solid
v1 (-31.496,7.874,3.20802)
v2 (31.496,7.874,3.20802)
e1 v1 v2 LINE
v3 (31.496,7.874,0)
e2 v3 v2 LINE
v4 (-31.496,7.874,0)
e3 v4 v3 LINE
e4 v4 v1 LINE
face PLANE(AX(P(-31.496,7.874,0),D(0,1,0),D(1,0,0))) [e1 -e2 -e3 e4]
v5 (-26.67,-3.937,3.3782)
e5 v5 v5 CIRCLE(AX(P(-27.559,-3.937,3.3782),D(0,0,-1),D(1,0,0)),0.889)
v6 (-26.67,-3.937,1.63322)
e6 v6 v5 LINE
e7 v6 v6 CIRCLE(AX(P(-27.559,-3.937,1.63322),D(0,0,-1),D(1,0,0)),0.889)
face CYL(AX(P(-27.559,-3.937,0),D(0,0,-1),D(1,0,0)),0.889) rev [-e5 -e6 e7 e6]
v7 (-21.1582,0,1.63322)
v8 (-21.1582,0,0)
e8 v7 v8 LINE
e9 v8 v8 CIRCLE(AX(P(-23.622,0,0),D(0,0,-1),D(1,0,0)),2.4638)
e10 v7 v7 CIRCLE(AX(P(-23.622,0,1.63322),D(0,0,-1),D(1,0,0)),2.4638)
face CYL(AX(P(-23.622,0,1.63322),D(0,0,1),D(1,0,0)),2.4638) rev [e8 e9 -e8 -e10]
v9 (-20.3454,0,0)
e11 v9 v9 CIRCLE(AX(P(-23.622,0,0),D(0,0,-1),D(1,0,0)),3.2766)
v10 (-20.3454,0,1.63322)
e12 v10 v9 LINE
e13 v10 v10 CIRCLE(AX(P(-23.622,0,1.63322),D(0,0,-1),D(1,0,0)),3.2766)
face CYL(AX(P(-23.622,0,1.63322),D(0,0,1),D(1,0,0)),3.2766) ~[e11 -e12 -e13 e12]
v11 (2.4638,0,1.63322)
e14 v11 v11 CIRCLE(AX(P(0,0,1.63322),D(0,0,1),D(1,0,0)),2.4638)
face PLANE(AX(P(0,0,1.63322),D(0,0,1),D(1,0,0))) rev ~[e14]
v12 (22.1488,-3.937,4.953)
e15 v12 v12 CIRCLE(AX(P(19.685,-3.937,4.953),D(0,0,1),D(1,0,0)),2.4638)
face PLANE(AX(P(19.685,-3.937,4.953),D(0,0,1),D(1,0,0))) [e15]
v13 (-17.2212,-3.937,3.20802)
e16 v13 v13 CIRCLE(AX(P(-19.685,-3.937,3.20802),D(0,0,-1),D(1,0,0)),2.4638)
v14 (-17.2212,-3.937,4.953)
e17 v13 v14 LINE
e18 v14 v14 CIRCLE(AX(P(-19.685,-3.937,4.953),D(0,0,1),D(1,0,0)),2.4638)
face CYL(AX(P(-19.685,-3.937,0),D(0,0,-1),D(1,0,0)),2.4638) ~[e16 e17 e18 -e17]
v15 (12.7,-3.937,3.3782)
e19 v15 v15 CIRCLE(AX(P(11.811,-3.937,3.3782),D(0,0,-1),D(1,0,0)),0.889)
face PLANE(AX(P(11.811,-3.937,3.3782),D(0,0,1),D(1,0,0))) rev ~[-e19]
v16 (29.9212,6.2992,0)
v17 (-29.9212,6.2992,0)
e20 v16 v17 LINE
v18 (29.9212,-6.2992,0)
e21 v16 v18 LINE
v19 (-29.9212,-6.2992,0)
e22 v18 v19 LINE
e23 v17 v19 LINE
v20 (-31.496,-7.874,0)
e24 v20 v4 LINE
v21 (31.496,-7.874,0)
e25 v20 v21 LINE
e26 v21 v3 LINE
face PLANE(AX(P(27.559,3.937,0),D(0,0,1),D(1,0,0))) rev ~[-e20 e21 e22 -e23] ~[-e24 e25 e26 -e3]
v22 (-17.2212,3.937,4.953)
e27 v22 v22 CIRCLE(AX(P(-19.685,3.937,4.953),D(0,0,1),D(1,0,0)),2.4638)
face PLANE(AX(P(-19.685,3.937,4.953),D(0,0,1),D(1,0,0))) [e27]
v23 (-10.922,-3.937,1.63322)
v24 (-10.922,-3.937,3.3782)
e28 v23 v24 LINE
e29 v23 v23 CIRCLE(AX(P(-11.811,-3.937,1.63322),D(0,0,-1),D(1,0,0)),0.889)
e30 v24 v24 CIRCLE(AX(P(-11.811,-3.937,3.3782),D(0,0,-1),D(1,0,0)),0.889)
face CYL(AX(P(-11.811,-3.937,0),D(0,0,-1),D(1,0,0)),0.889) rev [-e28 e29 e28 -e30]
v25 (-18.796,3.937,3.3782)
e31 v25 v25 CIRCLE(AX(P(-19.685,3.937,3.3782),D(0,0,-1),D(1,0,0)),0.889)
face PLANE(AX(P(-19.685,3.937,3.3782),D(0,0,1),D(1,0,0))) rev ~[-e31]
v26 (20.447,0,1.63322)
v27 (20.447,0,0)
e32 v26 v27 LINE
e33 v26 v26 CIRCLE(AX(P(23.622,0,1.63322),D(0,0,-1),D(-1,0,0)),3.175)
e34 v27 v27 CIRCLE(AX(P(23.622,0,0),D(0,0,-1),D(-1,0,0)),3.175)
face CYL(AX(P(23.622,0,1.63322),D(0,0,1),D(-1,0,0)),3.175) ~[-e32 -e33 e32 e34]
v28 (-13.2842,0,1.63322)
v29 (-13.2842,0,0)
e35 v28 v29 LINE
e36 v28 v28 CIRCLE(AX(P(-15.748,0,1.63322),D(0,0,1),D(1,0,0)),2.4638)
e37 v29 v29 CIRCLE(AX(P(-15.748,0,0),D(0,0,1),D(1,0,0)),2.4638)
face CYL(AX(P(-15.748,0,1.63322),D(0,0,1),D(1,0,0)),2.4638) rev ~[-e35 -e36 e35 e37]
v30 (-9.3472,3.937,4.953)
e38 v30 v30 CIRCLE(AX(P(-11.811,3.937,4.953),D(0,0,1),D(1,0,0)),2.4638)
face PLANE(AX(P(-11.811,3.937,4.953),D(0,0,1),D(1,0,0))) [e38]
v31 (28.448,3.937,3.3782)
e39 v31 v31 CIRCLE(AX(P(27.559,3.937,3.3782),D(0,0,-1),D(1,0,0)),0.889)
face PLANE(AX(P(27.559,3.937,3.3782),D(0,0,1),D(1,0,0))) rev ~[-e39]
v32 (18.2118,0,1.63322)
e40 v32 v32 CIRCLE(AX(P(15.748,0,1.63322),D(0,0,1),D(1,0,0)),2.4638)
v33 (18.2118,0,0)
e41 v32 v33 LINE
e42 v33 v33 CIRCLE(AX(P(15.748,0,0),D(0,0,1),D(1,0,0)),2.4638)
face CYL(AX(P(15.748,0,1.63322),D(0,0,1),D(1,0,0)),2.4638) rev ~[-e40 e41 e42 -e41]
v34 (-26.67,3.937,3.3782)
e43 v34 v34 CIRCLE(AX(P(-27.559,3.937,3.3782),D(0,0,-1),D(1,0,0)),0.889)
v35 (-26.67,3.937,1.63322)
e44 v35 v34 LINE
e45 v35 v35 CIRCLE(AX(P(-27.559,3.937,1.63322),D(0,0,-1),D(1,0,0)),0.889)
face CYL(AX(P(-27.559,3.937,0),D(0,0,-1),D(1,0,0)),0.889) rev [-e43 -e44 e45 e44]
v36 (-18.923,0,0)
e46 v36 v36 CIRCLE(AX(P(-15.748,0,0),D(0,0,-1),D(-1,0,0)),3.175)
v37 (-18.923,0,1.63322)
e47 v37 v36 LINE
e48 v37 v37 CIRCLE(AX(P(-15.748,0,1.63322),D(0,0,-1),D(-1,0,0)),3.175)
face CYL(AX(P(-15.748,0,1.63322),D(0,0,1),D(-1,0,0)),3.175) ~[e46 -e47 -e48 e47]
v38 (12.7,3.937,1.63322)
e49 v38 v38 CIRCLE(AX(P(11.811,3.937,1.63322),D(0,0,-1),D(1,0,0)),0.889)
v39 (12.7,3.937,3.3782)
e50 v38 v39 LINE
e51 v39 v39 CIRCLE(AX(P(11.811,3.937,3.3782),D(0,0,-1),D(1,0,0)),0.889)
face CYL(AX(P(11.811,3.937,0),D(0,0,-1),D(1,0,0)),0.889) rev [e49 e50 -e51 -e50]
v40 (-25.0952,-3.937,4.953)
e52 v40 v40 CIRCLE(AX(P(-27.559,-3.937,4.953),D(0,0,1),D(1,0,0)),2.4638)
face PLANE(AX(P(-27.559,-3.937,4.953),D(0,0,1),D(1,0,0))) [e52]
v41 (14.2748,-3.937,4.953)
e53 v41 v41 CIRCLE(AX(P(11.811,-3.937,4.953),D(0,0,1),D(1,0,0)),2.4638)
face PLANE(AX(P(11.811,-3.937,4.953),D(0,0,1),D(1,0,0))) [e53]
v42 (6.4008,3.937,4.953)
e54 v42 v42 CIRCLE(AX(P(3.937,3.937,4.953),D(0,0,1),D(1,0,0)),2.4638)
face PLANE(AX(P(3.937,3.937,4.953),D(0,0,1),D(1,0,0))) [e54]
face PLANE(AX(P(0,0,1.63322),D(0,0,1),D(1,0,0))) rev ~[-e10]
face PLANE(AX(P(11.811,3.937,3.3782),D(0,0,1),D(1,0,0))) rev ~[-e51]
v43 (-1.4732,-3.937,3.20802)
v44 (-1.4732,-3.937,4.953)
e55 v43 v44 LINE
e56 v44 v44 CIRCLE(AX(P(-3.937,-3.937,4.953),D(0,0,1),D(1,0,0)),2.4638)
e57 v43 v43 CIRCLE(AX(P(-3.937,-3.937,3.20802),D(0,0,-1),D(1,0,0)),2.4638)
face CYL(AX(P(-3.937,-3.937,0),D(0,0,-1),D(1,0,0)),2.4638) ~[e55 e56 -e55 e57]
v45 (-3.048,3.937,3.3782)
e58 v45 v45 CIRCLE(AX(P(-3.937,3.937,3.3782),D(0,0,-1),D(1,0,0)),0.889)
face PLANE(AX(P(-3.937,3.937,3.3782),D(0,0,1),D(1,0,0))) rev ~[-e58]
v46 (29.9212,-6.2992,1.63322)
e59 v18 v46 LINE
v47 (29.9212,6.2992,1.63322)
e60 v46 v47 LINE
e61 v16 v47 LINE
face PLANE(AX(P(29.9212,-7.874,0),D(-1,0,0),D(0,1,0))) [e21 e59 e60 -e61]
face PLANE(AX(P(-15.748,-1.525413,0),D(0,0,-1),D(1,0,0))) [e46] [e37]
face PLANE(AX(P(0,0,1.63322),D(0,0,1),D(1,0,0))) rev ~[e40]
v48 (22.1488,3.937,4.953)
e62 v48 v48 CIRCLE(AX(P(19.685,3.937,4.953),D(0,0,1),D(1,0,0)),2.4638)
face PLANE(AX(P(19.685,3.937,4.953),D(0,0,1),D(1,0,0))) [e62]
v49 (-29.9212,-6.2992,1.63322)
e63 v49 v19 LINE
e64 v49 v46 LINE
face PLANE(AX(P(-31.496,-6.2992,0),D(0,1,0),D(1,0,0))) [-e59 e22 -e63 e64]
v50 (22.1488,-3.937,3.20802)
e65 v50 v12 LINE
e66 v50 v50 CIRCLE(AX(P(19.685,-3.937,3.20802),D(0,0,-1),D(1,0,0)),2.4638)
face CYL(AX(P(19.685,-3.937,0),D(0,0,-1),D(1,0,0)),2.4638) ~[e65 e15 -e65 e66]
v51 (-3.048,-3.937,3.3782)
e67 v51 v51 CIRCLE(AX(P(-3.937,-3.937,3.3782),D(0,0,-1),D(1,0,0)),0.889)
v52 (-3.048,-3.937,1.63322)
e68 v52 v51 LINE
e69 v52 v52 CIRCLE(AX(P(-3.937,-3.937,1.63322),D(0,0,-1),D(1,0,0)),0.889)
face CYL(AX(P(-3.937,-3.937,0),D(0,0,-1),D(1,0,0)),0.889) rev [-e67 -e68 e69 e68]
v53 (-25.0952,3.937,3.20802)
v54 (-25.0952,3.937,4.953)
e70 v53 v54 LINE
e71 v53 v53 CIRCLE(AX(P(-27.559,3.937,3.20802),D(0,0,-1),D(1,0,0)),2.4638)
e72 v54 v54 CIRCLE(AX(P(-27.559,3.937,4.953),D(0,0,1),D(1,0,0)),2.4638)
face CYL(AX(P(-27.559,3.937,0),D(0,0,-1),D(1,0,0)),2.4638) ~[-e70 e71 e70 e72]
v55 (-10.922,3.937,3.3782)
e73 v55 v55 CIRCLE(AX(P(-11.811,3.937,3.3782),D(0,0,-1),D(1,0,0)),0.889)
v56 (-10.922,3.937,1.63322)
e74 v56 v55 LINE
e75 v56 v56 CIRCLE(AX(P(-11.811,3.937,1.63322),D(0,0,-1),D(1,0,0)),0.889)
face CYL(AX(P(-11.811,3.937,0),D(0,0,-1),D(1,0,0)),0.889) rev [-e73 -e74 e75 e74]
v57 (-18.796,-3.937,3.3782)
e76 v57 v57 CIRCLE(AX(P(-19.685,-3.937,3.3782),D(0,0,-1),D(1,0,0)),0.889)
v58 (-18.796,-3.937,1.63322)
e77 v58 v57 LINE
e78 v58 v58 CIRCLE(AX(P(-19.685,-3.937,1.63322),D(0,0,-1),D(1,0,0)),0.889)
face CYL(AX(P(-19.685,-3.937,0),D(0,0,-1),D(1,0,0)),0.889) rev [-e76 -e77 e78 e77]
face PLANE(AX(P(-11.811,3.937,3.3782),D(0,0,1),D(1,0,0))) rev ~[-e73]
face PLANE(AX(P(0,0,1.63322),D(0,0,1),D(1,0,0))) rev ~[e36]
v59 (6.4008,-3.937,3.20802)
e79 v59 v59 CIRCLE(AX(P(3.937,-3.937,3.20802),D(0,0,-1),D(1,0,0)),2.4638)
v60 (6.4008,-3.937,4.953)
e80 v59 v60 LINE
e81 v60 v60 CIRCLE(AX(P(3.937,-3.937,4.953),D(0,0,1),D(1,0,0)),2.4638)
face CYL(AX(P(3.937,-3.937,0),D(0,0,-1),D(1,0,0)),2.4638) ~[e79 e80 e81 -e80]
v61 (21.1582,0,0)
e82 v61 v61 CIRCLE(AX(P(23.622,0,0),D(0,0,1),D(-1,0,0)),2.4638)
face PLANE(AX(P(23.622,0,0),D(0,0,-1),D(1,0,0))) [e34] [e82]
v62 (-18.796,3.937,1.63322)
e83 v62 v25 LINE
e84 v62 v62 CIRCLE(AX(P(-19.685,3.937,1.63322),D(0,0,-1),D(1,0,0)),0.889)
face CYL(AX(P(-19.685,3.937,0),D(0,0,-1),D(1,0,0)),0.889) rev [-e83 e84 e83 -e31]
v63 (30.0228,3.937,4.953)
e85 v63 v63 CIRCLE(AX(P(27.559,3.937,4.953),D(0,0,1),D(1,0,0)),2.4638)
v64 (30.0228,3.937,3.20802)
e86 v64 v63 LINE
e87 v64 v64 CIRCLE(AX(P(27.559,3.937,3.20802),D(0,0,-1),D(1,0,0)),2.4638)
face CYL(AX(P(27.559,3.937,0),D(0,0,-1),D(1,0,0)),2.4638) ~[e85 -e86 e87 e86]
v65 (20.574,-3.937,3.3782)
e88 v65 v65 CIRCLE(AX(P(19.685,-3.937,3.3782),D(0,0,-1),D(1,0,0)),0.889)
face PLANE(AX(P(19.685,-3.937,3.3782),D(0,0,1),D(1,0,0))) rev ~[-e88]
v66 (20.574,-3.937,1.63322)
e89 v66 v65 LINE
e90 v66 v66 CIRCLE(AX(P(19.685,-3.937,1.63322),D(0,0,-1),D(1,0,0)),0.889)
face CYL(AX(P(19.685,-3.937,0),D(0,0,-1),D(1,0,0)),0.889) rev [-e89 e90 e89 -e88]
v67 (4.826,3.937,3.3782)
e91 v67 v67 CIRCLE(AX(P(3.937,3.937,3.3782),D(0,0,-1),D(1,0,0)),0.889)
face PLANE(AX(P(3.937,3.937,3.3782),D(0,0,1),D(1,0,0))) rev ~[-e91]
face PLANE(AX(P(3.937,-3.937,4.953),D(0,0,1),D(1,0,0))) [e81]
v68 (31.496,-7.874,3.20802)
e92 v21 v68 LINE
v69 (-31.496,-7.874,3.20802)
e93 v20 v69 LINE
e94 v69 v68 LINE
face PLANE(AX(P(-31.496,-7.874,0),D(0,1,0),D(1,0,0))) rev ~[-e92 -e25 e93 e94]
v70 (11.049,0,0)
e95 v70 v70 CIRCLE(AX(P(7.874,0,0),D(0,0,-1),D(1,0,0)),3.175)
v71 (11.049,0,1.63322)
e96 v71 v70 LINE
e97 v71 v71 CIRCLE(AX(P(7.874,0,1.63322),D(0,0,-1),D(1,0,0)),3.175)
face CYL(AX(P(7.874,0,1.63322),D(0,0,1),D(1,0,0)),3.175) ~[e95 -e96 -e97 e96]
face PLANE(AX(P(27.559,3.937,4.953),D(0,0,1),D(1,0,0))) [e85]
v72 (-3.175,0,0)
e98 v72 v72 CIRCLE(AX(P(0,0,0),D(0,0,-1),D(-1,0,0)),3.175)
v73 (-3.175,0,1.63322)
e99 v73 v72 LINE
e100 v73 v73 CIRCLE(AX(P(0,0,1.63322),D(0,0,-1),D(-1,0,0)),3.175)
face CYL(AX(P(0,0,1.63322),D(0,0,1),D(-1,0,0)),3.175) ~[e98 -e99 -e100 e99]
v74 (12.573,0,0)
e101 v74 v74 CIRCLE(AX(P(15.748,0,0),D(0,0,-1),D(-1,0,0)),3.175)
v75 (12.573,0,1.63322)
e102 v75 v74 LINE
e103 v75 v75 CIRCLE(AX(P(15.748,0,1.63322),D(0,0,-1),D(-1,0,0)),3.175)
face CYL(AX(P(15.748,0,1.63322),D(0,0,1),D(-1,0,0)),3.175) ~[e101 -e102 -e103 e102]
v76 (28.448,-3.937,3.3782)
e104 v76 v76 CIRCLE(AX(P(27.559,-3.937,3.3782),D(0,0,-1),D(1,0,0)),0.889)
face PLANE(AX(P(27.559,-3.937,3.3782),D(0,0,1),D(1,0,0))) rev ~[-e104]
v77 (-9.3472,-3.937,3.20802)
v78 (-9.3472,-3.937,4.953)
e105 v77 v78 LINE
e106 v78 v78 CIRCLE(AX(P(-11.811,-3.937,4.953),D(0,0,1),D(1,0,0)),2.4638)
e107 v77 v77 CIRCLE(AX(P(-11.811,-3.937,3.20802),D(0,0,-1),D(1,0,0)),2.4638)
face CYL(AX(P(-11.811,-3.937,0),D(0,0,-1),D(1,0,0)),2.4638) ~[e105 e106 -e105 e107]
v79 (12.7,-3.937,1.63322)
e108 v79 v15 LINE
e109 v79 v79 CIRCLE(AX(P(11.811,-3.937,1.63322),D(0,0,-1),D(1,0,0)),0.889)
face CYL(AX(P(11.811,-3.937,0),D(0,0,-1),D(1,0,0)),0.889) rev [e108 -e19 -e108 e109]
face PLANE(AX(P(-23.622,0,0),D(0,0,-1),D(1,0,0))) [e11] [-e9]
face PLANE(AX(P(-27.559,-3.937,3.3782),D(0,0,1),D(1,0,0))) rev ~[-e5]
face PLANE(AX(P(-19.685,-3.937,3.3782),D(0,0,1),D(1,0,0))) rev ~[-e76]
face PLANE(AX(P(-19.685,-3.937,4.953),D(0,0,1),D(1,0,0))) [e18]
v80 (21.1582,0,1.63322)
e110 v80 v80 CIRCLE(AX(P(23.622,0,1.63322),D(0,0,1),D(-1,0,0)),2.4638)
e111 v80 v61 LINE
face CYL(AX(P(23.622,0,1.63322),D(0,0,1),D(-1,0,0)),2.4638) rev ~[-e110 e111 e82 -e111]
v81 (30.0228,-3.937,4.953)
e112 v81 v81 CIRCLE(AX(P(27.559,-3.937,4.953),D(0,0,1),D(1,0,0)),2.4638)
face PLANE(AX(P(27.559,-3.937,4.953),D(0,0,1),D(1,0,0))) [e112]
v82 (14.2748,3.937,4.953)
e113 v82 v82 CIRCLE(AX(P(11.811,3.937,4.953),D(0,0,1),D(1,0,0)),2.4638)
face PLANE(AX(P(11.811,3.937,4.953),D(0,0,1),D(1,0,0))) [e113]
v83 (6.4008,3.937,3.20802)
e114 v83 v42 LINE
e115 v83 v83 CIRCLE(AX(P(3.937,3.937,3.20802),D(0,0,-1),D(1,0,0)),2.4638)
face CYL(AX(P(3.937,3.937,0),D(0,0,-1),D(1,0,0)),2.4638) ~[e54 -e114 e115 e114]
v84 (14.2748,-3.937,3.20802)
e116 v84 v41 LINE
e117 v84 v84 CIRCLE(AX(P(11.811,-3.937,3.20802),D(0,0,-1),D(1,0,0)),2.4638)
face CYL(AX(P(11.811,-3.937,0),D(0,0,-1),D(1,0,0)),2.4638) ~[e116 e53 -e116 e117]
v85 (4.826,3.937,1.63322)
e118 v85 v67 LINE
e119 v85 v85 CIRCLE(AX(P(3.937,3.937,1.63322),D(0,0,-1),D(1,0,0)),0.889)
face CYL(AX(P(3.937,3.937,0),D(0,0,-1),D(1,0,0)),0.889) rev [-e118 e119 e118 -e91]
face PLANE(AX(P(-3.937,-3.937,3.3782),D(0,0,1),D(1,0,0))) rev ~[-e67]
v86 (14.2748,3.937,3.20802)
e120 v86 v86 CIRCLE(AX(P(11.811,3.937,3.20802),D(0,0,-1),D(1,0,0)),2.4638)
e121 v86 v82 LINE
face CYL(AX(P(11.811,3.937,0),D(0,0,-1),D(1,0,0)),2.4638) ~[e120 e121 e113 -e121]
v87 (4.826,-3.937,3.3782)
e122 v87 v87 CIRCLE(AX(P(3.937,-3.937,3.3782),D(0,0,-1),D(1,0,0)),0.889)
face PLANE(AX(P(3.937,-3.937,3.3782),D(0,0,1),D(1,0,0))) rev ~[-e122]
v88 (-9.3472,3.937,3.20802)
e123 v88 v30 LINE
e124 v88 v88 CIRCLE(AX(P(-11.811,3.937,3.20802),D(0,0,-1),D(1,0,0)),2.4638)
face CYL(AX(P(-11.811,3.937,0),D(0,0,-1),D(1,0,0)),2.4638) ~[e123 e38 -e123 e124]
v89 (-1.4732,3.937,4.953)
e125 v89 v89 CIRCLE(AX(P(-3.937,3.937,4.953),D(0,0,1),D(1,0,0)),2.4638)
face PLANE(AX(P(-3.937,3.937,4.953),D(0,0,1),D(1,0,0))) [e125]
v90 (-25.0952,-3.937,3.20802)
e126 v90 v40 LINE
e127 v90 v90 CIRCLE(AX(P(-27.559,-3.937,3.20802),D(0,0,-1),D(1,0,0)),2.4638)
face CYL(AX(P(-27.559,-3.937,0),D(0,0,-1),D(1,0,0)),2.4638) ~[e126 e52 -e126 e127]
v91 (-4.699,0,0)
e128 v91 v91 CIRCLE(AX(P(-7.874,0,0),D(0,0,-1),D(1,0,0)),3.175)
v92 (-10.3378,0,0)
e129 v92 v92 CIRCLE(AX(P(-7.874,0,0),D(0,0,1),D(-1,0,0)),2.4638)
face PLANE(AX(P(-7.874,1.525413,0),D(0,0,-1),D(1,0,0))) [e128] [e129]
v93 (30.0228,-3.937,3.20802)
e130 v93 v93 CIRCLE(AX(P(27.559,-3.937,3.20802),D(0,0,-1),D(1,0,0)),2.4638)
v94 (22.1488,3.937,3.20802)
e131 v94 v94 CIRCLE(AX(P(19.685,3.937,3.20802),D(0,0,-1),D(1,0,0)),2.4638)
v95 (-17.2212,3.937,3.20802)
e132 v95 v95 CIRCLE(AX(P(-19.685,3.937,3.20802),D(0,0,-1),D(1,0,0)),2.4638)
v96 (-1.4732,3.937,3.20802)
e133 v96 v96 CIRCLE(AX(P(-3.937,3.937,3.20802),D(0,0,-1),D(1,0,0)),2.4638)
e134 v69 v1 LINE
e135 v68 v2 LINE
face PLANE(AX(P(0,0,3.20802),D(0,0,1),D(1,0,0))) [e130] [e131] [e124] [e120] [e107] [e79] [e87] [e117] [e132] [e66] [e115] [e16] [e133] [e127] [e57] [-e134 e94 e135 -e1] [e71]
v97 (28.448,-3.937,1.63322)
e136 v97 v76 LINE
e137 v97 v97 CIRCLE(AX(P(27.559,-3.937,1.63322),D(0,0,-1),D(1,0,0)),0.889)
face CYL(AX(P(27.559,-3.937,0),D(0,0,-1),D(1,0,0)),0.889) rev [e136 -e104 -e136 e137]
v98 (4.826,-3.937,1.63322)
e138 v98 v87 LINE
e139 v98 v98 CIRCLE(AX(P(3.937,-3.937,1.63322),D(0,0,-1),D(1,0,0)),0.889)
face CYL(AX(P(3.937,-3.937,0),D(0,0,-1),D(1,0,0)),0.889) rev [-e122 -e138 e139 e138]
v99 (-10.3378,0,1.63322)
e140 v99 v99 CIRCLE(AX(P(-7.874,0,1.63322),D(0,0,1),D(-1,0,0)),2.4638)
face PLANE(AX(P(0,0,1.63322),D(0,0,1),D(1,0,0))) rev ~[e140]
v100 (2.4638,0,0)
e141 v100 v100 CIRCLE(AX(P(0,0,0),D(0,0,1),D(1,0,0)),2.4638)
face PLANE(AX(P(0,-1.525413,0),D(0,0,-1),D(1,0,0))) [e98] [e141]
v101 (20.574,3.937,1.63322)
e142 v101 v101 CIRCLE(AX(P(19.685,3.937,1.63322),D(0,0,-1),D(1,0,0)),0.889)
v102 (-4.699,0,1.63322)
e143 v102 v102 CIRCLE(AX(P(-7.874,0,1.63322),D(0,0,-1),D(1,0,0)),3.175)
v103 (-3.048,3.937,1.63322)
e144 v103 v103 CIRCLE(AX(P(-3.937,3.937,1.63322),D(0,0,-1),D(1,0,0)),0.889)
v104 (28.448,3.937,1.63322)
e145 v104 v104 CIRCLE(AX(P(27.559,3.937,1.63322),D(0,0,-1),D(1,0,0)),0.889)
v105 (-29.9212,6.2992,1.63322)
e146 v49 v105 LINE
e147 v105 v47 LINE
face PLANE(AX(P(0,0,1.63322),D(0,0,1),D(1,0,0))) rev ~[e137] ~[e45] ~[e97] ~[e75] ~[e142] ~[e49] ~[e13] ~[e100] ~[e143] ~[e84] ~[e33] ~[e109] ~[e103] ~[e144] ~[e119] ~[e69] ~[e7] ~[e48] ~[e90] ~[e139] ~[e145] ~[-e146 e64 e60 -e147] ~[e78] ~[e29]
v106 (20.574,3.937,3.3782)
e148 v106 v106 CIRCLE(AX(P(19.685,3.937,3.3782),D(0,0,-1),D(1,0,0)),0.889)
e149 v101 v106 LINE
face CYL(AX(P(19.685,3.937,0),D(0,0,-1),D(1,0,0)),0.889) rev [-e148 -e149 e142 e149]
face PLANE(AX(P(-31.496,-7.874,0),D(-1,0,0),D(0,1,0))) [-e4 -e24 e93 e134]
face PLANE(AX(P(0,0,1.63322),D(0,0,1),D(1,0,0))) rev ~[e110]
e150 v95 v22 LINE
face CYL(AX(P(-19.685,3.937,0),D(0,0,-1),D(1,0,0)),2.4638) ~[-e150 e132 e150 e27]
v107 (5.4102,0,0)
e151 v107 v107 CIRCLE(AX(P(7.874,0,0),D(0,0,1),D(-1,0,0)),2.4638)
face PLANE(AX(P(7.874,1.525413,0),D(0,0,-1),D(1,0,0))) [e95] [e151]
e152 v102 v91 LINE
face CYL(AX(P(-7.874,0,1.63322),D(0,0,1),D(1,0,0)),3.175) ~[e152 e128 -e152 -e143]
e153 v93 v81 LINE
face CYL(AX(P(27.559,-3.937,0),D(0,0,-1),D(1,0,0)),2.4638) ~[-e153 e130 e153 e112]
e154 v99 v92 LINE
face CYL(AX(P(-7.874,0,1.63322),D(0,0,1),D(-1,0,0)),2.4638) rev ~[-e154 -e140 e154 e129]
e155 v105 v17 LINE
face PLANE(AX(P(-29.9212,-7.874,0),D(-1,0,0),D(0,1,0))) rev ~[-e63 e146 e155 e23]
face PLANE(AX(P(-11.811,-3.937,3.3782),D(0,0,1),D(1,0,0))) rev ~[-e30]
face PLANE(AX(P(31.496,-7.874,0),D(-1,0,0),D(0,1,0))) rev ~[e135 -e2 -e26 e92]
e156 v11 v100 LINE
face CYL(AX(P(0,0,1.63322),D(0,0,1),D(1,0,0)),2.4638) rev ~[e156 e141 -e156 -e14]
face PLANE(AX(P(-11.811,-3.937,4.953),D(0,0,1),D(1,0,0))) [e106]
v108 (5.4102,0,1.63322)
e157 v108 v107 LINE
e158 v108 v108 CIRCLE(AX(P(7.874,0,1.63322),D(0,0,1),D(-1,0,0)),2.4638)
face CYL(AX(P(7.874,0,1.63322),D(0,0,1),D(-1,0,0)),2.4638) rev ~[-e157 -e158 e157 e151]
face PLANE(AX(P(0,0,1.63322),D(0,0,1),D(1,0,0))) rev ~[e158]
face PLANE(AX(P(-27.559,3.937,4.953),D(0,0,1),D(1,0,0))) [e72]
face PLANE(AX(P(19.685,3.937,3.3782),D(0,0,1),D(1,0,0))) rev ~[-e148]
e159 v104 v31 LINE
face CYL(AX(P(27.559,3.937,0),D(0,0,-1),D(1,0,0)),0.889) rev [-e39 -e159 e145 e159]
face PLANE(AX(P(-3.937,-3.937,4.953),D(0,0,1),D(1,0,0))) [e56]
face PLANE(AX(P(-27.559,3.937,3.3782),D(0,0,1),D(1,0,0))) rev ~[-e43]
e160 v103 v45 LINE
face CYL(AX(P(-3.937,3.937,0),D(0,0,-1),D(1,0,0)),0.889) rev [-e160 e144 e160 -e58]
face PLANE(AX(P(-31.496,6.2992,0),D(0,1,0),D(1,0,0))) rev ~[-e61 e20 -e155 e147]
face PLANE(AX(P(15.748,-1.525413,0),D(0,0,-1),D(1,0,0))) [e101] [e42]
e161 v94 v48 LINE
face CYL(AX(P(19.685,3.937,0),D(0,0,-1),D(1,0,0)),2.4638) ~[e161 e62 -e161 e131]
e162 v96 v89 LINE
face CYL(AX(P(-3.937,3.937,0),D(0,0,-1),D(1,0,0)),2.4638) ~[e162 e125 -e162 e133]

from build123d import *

# Parameters (mm, degrees)
F0_W     = 62.992
F0_H     = 15.748
F1_DEPTH = 3.20802
F2_R     = 2.4638
F3_DEPTH = 4.953
F4_T     = -1.5748
F5_R     = 3.2766
F5_R_2   = 2.4638
F6_DEPTH = 1.63322


with BuildPart() as f1:
    # F0 (on Top) → F1 (new body)
    with BuildSketch(Plane.XY):
        Rectangle(F0_W, F0_H)
    extrude(amount=F1_DEPTH)

    # F2 (on Top) → F3 (join)
    with BuildSketch(Plane.XY):
        with Locations((27.559, 3.937)):
            Circle(F2_R)
        with Locations((11.811, 3.937)):
            Circle(F2_R)
        with Locations((19.685, 3.937)):
            Circle(F2_R)
        with Locations((3.937, 3.937)):
            Circle(F2_R)
        with Locations((-3.937, 3.937)):
            Circle(F2_R)
        with Locations((-11.811, 3.937)):
            Circle(F2_R)
        with Locations((-19.685, 3.937)):
            Circle(F2_R)
        with Locations((-27.559, 3.937)):
            Circle(F2_R)
        with Locations((-27.559, -3.937)):
            Circle(F2_R)
        with Locations((-19.685, -3.937)):
            Circle(F2_R)
        with Locations((-11.811, -3.937)):
            Circle(F2_R)
        with Locations((-3.937, -3.937)):
            Circle(F2_R)
        with Locations((3.937, -3.937)):
            Circle(F2_R)
        with Locations((11.811, -3.937)):
            Circle(F2_R)
        with Locations((19.685, -3.937)):
            Circle(F2_R)
        with Locations((27.559, -3.937)):
            Circle(F2_R)
    extrude(amount=F3_DEPTH)

    # F4
    f4_openings = [f1.faces().sort_by_distance(p)[0] for p in [
        (0, 0, 0),
    ]]
    offset(amount=F4_T, openings=f4_openings, kind=Kind.INTERSECTION)

    # F5 (on face) → F6 (join)
    with BuildSketch(Plane(origin=(0, 0, 1.63322), x_dir=(1, 0, 0), z_dir=(0, 0, -1))):
        with Locations((-23.622, 0)):
            Circle(F5_R)
        with Locations((-23.622, 0)):
            Circle(F5_R_2, mode=Mode.SUBTRACT)
        with BuildLine():
            Line((-13.2842, 0), (-12.573, 0))
            ThreePointArc((-12.573, 0), (-15.748, 3.175), (-18.923, 0))
            Line((-18.923, 0), (-18.2118, 0))
            ThreePointArc((-18.2118, 0), (-15.748, 2.4638), (-13.2842, 0))
        make_face()
        with BuildLine():
            ThreePointArc((-18.923, 0), (-15.748, -3.175), (-12.573, 0))
            Line((-12.573, 0), (-13.2842, 0))
            ThreePointArc((-13.2842, 0), (-15.748, -2.4638), (-18.2118, 0))
            Line((-18.2118, 0), (-18.923, 0))
        make_face()
        with BuildLine():
            ThreePointArc((-11.049, 0), (-7.874, -3.175), (-4.699, 0))
            Line((-4.699, 0), (-5.4102, 0))
            ThreePointArc((-5.4102, 0), (-7.874, -2.4638), (-10.3378, 0))
            Line((-10.3378, 0), (-11.049, 0))
        make_face()
        with BuildLine():
            Line((-5.4102, 0), (-4.699, 0))
            ThreePointArc((-4.699, 0), (-7.874, 3.175), (-11.049, 0))
            Line((-11.049, 0), (-10.3378, 0))
            ThreePointArc((-10.3378, 0), (-7.874, 2.4638), (-5.4102, 0))
        make_face()
        with BuildLine():
            ThreePointArc((-2.4638, 0), (0, 2.4638), (2.4638, 0))
            Line((2.4638, 0), (3.175, 0))
            ThreePointArc((3.175, 0), (0, 3.175), (-3.175, 0))
            Line((-3.175, 0), (-2.4638, 0))
        make_face()
        with BuildLine():
            Line((3.175, 0), (2.4638, 0))
            ThreePointArc((2.4638, 0), (0, -2.4638), (-2.4638, 0))
            Line((-2.4638, 0), (-3.175, 0))
            ThreePointArc((-3.175, 0), (0, -3.175), (3.175, 0))
        make_face()
        with BuildLine():
            Line((5.4102, 0), (4.699, 0))
            ThreePointArc((4.699, 0), (7.874, -3.175), (11.049, 0))
            Line((11.049, 0), (10.3378, 0))
            ThreePointArc((10.3378, 0), (7.874, -2.4638), (5.4102, 0))
        make_face()
        with BuildLine():
            ThreePointArc((11.049, 0), (7.874, 3.175), (4.699, 0))
            Line((4.699, 0), (5.4102, 0))
            ThreePointArc((5.4102, 0), (7.874, 2.4638), (10.3378, 0))
            Line((10.3378, 0), (11.049, 0))
        make_face()
        with BuildLine():
            ThreePointArc((18.923, 0), (15.748, 3.175), (12.573, 0))
            Line((12.573, 0), (13.2842, 0))
            ThreePointArc((13.2842, 0), (15.748, 2.4638), (18.2118, 0))
            Line((18.2118, 0), (18.923, 0))
        make_face()
        with BuildLine():
            Line((13.2842, 0), (12.573, 0))
            ThreePointArc((12.573, 0), (15.748, -3.175), (18.923, 0))
            Line((18.923, 0), (18.2118, 0))
            ThreePointArc((18.2118, 0), (15.748, -2.4638), (13.2842, 0))
        make_face()
        with BuildLine():
            ThreePointArc((26.797, 0), (23.622, 3.175), (20.447, 0))
            ThreePointArc((20.447, 0), (23.622, -3.175), (26.797, 0))
        make_face()
        with BuildLine():
            ThreePointArc((26.0858, 0), (23.622, -2.4638), (21.1582, 0))
            ThreePointArc((21.1582, 0), (23.622, 2.4638), (26.0858, 0))
        make_face(mode=Mode.SUBTRACT)
    extrude(amount=F6_DEPTH)


solid = f1.part
